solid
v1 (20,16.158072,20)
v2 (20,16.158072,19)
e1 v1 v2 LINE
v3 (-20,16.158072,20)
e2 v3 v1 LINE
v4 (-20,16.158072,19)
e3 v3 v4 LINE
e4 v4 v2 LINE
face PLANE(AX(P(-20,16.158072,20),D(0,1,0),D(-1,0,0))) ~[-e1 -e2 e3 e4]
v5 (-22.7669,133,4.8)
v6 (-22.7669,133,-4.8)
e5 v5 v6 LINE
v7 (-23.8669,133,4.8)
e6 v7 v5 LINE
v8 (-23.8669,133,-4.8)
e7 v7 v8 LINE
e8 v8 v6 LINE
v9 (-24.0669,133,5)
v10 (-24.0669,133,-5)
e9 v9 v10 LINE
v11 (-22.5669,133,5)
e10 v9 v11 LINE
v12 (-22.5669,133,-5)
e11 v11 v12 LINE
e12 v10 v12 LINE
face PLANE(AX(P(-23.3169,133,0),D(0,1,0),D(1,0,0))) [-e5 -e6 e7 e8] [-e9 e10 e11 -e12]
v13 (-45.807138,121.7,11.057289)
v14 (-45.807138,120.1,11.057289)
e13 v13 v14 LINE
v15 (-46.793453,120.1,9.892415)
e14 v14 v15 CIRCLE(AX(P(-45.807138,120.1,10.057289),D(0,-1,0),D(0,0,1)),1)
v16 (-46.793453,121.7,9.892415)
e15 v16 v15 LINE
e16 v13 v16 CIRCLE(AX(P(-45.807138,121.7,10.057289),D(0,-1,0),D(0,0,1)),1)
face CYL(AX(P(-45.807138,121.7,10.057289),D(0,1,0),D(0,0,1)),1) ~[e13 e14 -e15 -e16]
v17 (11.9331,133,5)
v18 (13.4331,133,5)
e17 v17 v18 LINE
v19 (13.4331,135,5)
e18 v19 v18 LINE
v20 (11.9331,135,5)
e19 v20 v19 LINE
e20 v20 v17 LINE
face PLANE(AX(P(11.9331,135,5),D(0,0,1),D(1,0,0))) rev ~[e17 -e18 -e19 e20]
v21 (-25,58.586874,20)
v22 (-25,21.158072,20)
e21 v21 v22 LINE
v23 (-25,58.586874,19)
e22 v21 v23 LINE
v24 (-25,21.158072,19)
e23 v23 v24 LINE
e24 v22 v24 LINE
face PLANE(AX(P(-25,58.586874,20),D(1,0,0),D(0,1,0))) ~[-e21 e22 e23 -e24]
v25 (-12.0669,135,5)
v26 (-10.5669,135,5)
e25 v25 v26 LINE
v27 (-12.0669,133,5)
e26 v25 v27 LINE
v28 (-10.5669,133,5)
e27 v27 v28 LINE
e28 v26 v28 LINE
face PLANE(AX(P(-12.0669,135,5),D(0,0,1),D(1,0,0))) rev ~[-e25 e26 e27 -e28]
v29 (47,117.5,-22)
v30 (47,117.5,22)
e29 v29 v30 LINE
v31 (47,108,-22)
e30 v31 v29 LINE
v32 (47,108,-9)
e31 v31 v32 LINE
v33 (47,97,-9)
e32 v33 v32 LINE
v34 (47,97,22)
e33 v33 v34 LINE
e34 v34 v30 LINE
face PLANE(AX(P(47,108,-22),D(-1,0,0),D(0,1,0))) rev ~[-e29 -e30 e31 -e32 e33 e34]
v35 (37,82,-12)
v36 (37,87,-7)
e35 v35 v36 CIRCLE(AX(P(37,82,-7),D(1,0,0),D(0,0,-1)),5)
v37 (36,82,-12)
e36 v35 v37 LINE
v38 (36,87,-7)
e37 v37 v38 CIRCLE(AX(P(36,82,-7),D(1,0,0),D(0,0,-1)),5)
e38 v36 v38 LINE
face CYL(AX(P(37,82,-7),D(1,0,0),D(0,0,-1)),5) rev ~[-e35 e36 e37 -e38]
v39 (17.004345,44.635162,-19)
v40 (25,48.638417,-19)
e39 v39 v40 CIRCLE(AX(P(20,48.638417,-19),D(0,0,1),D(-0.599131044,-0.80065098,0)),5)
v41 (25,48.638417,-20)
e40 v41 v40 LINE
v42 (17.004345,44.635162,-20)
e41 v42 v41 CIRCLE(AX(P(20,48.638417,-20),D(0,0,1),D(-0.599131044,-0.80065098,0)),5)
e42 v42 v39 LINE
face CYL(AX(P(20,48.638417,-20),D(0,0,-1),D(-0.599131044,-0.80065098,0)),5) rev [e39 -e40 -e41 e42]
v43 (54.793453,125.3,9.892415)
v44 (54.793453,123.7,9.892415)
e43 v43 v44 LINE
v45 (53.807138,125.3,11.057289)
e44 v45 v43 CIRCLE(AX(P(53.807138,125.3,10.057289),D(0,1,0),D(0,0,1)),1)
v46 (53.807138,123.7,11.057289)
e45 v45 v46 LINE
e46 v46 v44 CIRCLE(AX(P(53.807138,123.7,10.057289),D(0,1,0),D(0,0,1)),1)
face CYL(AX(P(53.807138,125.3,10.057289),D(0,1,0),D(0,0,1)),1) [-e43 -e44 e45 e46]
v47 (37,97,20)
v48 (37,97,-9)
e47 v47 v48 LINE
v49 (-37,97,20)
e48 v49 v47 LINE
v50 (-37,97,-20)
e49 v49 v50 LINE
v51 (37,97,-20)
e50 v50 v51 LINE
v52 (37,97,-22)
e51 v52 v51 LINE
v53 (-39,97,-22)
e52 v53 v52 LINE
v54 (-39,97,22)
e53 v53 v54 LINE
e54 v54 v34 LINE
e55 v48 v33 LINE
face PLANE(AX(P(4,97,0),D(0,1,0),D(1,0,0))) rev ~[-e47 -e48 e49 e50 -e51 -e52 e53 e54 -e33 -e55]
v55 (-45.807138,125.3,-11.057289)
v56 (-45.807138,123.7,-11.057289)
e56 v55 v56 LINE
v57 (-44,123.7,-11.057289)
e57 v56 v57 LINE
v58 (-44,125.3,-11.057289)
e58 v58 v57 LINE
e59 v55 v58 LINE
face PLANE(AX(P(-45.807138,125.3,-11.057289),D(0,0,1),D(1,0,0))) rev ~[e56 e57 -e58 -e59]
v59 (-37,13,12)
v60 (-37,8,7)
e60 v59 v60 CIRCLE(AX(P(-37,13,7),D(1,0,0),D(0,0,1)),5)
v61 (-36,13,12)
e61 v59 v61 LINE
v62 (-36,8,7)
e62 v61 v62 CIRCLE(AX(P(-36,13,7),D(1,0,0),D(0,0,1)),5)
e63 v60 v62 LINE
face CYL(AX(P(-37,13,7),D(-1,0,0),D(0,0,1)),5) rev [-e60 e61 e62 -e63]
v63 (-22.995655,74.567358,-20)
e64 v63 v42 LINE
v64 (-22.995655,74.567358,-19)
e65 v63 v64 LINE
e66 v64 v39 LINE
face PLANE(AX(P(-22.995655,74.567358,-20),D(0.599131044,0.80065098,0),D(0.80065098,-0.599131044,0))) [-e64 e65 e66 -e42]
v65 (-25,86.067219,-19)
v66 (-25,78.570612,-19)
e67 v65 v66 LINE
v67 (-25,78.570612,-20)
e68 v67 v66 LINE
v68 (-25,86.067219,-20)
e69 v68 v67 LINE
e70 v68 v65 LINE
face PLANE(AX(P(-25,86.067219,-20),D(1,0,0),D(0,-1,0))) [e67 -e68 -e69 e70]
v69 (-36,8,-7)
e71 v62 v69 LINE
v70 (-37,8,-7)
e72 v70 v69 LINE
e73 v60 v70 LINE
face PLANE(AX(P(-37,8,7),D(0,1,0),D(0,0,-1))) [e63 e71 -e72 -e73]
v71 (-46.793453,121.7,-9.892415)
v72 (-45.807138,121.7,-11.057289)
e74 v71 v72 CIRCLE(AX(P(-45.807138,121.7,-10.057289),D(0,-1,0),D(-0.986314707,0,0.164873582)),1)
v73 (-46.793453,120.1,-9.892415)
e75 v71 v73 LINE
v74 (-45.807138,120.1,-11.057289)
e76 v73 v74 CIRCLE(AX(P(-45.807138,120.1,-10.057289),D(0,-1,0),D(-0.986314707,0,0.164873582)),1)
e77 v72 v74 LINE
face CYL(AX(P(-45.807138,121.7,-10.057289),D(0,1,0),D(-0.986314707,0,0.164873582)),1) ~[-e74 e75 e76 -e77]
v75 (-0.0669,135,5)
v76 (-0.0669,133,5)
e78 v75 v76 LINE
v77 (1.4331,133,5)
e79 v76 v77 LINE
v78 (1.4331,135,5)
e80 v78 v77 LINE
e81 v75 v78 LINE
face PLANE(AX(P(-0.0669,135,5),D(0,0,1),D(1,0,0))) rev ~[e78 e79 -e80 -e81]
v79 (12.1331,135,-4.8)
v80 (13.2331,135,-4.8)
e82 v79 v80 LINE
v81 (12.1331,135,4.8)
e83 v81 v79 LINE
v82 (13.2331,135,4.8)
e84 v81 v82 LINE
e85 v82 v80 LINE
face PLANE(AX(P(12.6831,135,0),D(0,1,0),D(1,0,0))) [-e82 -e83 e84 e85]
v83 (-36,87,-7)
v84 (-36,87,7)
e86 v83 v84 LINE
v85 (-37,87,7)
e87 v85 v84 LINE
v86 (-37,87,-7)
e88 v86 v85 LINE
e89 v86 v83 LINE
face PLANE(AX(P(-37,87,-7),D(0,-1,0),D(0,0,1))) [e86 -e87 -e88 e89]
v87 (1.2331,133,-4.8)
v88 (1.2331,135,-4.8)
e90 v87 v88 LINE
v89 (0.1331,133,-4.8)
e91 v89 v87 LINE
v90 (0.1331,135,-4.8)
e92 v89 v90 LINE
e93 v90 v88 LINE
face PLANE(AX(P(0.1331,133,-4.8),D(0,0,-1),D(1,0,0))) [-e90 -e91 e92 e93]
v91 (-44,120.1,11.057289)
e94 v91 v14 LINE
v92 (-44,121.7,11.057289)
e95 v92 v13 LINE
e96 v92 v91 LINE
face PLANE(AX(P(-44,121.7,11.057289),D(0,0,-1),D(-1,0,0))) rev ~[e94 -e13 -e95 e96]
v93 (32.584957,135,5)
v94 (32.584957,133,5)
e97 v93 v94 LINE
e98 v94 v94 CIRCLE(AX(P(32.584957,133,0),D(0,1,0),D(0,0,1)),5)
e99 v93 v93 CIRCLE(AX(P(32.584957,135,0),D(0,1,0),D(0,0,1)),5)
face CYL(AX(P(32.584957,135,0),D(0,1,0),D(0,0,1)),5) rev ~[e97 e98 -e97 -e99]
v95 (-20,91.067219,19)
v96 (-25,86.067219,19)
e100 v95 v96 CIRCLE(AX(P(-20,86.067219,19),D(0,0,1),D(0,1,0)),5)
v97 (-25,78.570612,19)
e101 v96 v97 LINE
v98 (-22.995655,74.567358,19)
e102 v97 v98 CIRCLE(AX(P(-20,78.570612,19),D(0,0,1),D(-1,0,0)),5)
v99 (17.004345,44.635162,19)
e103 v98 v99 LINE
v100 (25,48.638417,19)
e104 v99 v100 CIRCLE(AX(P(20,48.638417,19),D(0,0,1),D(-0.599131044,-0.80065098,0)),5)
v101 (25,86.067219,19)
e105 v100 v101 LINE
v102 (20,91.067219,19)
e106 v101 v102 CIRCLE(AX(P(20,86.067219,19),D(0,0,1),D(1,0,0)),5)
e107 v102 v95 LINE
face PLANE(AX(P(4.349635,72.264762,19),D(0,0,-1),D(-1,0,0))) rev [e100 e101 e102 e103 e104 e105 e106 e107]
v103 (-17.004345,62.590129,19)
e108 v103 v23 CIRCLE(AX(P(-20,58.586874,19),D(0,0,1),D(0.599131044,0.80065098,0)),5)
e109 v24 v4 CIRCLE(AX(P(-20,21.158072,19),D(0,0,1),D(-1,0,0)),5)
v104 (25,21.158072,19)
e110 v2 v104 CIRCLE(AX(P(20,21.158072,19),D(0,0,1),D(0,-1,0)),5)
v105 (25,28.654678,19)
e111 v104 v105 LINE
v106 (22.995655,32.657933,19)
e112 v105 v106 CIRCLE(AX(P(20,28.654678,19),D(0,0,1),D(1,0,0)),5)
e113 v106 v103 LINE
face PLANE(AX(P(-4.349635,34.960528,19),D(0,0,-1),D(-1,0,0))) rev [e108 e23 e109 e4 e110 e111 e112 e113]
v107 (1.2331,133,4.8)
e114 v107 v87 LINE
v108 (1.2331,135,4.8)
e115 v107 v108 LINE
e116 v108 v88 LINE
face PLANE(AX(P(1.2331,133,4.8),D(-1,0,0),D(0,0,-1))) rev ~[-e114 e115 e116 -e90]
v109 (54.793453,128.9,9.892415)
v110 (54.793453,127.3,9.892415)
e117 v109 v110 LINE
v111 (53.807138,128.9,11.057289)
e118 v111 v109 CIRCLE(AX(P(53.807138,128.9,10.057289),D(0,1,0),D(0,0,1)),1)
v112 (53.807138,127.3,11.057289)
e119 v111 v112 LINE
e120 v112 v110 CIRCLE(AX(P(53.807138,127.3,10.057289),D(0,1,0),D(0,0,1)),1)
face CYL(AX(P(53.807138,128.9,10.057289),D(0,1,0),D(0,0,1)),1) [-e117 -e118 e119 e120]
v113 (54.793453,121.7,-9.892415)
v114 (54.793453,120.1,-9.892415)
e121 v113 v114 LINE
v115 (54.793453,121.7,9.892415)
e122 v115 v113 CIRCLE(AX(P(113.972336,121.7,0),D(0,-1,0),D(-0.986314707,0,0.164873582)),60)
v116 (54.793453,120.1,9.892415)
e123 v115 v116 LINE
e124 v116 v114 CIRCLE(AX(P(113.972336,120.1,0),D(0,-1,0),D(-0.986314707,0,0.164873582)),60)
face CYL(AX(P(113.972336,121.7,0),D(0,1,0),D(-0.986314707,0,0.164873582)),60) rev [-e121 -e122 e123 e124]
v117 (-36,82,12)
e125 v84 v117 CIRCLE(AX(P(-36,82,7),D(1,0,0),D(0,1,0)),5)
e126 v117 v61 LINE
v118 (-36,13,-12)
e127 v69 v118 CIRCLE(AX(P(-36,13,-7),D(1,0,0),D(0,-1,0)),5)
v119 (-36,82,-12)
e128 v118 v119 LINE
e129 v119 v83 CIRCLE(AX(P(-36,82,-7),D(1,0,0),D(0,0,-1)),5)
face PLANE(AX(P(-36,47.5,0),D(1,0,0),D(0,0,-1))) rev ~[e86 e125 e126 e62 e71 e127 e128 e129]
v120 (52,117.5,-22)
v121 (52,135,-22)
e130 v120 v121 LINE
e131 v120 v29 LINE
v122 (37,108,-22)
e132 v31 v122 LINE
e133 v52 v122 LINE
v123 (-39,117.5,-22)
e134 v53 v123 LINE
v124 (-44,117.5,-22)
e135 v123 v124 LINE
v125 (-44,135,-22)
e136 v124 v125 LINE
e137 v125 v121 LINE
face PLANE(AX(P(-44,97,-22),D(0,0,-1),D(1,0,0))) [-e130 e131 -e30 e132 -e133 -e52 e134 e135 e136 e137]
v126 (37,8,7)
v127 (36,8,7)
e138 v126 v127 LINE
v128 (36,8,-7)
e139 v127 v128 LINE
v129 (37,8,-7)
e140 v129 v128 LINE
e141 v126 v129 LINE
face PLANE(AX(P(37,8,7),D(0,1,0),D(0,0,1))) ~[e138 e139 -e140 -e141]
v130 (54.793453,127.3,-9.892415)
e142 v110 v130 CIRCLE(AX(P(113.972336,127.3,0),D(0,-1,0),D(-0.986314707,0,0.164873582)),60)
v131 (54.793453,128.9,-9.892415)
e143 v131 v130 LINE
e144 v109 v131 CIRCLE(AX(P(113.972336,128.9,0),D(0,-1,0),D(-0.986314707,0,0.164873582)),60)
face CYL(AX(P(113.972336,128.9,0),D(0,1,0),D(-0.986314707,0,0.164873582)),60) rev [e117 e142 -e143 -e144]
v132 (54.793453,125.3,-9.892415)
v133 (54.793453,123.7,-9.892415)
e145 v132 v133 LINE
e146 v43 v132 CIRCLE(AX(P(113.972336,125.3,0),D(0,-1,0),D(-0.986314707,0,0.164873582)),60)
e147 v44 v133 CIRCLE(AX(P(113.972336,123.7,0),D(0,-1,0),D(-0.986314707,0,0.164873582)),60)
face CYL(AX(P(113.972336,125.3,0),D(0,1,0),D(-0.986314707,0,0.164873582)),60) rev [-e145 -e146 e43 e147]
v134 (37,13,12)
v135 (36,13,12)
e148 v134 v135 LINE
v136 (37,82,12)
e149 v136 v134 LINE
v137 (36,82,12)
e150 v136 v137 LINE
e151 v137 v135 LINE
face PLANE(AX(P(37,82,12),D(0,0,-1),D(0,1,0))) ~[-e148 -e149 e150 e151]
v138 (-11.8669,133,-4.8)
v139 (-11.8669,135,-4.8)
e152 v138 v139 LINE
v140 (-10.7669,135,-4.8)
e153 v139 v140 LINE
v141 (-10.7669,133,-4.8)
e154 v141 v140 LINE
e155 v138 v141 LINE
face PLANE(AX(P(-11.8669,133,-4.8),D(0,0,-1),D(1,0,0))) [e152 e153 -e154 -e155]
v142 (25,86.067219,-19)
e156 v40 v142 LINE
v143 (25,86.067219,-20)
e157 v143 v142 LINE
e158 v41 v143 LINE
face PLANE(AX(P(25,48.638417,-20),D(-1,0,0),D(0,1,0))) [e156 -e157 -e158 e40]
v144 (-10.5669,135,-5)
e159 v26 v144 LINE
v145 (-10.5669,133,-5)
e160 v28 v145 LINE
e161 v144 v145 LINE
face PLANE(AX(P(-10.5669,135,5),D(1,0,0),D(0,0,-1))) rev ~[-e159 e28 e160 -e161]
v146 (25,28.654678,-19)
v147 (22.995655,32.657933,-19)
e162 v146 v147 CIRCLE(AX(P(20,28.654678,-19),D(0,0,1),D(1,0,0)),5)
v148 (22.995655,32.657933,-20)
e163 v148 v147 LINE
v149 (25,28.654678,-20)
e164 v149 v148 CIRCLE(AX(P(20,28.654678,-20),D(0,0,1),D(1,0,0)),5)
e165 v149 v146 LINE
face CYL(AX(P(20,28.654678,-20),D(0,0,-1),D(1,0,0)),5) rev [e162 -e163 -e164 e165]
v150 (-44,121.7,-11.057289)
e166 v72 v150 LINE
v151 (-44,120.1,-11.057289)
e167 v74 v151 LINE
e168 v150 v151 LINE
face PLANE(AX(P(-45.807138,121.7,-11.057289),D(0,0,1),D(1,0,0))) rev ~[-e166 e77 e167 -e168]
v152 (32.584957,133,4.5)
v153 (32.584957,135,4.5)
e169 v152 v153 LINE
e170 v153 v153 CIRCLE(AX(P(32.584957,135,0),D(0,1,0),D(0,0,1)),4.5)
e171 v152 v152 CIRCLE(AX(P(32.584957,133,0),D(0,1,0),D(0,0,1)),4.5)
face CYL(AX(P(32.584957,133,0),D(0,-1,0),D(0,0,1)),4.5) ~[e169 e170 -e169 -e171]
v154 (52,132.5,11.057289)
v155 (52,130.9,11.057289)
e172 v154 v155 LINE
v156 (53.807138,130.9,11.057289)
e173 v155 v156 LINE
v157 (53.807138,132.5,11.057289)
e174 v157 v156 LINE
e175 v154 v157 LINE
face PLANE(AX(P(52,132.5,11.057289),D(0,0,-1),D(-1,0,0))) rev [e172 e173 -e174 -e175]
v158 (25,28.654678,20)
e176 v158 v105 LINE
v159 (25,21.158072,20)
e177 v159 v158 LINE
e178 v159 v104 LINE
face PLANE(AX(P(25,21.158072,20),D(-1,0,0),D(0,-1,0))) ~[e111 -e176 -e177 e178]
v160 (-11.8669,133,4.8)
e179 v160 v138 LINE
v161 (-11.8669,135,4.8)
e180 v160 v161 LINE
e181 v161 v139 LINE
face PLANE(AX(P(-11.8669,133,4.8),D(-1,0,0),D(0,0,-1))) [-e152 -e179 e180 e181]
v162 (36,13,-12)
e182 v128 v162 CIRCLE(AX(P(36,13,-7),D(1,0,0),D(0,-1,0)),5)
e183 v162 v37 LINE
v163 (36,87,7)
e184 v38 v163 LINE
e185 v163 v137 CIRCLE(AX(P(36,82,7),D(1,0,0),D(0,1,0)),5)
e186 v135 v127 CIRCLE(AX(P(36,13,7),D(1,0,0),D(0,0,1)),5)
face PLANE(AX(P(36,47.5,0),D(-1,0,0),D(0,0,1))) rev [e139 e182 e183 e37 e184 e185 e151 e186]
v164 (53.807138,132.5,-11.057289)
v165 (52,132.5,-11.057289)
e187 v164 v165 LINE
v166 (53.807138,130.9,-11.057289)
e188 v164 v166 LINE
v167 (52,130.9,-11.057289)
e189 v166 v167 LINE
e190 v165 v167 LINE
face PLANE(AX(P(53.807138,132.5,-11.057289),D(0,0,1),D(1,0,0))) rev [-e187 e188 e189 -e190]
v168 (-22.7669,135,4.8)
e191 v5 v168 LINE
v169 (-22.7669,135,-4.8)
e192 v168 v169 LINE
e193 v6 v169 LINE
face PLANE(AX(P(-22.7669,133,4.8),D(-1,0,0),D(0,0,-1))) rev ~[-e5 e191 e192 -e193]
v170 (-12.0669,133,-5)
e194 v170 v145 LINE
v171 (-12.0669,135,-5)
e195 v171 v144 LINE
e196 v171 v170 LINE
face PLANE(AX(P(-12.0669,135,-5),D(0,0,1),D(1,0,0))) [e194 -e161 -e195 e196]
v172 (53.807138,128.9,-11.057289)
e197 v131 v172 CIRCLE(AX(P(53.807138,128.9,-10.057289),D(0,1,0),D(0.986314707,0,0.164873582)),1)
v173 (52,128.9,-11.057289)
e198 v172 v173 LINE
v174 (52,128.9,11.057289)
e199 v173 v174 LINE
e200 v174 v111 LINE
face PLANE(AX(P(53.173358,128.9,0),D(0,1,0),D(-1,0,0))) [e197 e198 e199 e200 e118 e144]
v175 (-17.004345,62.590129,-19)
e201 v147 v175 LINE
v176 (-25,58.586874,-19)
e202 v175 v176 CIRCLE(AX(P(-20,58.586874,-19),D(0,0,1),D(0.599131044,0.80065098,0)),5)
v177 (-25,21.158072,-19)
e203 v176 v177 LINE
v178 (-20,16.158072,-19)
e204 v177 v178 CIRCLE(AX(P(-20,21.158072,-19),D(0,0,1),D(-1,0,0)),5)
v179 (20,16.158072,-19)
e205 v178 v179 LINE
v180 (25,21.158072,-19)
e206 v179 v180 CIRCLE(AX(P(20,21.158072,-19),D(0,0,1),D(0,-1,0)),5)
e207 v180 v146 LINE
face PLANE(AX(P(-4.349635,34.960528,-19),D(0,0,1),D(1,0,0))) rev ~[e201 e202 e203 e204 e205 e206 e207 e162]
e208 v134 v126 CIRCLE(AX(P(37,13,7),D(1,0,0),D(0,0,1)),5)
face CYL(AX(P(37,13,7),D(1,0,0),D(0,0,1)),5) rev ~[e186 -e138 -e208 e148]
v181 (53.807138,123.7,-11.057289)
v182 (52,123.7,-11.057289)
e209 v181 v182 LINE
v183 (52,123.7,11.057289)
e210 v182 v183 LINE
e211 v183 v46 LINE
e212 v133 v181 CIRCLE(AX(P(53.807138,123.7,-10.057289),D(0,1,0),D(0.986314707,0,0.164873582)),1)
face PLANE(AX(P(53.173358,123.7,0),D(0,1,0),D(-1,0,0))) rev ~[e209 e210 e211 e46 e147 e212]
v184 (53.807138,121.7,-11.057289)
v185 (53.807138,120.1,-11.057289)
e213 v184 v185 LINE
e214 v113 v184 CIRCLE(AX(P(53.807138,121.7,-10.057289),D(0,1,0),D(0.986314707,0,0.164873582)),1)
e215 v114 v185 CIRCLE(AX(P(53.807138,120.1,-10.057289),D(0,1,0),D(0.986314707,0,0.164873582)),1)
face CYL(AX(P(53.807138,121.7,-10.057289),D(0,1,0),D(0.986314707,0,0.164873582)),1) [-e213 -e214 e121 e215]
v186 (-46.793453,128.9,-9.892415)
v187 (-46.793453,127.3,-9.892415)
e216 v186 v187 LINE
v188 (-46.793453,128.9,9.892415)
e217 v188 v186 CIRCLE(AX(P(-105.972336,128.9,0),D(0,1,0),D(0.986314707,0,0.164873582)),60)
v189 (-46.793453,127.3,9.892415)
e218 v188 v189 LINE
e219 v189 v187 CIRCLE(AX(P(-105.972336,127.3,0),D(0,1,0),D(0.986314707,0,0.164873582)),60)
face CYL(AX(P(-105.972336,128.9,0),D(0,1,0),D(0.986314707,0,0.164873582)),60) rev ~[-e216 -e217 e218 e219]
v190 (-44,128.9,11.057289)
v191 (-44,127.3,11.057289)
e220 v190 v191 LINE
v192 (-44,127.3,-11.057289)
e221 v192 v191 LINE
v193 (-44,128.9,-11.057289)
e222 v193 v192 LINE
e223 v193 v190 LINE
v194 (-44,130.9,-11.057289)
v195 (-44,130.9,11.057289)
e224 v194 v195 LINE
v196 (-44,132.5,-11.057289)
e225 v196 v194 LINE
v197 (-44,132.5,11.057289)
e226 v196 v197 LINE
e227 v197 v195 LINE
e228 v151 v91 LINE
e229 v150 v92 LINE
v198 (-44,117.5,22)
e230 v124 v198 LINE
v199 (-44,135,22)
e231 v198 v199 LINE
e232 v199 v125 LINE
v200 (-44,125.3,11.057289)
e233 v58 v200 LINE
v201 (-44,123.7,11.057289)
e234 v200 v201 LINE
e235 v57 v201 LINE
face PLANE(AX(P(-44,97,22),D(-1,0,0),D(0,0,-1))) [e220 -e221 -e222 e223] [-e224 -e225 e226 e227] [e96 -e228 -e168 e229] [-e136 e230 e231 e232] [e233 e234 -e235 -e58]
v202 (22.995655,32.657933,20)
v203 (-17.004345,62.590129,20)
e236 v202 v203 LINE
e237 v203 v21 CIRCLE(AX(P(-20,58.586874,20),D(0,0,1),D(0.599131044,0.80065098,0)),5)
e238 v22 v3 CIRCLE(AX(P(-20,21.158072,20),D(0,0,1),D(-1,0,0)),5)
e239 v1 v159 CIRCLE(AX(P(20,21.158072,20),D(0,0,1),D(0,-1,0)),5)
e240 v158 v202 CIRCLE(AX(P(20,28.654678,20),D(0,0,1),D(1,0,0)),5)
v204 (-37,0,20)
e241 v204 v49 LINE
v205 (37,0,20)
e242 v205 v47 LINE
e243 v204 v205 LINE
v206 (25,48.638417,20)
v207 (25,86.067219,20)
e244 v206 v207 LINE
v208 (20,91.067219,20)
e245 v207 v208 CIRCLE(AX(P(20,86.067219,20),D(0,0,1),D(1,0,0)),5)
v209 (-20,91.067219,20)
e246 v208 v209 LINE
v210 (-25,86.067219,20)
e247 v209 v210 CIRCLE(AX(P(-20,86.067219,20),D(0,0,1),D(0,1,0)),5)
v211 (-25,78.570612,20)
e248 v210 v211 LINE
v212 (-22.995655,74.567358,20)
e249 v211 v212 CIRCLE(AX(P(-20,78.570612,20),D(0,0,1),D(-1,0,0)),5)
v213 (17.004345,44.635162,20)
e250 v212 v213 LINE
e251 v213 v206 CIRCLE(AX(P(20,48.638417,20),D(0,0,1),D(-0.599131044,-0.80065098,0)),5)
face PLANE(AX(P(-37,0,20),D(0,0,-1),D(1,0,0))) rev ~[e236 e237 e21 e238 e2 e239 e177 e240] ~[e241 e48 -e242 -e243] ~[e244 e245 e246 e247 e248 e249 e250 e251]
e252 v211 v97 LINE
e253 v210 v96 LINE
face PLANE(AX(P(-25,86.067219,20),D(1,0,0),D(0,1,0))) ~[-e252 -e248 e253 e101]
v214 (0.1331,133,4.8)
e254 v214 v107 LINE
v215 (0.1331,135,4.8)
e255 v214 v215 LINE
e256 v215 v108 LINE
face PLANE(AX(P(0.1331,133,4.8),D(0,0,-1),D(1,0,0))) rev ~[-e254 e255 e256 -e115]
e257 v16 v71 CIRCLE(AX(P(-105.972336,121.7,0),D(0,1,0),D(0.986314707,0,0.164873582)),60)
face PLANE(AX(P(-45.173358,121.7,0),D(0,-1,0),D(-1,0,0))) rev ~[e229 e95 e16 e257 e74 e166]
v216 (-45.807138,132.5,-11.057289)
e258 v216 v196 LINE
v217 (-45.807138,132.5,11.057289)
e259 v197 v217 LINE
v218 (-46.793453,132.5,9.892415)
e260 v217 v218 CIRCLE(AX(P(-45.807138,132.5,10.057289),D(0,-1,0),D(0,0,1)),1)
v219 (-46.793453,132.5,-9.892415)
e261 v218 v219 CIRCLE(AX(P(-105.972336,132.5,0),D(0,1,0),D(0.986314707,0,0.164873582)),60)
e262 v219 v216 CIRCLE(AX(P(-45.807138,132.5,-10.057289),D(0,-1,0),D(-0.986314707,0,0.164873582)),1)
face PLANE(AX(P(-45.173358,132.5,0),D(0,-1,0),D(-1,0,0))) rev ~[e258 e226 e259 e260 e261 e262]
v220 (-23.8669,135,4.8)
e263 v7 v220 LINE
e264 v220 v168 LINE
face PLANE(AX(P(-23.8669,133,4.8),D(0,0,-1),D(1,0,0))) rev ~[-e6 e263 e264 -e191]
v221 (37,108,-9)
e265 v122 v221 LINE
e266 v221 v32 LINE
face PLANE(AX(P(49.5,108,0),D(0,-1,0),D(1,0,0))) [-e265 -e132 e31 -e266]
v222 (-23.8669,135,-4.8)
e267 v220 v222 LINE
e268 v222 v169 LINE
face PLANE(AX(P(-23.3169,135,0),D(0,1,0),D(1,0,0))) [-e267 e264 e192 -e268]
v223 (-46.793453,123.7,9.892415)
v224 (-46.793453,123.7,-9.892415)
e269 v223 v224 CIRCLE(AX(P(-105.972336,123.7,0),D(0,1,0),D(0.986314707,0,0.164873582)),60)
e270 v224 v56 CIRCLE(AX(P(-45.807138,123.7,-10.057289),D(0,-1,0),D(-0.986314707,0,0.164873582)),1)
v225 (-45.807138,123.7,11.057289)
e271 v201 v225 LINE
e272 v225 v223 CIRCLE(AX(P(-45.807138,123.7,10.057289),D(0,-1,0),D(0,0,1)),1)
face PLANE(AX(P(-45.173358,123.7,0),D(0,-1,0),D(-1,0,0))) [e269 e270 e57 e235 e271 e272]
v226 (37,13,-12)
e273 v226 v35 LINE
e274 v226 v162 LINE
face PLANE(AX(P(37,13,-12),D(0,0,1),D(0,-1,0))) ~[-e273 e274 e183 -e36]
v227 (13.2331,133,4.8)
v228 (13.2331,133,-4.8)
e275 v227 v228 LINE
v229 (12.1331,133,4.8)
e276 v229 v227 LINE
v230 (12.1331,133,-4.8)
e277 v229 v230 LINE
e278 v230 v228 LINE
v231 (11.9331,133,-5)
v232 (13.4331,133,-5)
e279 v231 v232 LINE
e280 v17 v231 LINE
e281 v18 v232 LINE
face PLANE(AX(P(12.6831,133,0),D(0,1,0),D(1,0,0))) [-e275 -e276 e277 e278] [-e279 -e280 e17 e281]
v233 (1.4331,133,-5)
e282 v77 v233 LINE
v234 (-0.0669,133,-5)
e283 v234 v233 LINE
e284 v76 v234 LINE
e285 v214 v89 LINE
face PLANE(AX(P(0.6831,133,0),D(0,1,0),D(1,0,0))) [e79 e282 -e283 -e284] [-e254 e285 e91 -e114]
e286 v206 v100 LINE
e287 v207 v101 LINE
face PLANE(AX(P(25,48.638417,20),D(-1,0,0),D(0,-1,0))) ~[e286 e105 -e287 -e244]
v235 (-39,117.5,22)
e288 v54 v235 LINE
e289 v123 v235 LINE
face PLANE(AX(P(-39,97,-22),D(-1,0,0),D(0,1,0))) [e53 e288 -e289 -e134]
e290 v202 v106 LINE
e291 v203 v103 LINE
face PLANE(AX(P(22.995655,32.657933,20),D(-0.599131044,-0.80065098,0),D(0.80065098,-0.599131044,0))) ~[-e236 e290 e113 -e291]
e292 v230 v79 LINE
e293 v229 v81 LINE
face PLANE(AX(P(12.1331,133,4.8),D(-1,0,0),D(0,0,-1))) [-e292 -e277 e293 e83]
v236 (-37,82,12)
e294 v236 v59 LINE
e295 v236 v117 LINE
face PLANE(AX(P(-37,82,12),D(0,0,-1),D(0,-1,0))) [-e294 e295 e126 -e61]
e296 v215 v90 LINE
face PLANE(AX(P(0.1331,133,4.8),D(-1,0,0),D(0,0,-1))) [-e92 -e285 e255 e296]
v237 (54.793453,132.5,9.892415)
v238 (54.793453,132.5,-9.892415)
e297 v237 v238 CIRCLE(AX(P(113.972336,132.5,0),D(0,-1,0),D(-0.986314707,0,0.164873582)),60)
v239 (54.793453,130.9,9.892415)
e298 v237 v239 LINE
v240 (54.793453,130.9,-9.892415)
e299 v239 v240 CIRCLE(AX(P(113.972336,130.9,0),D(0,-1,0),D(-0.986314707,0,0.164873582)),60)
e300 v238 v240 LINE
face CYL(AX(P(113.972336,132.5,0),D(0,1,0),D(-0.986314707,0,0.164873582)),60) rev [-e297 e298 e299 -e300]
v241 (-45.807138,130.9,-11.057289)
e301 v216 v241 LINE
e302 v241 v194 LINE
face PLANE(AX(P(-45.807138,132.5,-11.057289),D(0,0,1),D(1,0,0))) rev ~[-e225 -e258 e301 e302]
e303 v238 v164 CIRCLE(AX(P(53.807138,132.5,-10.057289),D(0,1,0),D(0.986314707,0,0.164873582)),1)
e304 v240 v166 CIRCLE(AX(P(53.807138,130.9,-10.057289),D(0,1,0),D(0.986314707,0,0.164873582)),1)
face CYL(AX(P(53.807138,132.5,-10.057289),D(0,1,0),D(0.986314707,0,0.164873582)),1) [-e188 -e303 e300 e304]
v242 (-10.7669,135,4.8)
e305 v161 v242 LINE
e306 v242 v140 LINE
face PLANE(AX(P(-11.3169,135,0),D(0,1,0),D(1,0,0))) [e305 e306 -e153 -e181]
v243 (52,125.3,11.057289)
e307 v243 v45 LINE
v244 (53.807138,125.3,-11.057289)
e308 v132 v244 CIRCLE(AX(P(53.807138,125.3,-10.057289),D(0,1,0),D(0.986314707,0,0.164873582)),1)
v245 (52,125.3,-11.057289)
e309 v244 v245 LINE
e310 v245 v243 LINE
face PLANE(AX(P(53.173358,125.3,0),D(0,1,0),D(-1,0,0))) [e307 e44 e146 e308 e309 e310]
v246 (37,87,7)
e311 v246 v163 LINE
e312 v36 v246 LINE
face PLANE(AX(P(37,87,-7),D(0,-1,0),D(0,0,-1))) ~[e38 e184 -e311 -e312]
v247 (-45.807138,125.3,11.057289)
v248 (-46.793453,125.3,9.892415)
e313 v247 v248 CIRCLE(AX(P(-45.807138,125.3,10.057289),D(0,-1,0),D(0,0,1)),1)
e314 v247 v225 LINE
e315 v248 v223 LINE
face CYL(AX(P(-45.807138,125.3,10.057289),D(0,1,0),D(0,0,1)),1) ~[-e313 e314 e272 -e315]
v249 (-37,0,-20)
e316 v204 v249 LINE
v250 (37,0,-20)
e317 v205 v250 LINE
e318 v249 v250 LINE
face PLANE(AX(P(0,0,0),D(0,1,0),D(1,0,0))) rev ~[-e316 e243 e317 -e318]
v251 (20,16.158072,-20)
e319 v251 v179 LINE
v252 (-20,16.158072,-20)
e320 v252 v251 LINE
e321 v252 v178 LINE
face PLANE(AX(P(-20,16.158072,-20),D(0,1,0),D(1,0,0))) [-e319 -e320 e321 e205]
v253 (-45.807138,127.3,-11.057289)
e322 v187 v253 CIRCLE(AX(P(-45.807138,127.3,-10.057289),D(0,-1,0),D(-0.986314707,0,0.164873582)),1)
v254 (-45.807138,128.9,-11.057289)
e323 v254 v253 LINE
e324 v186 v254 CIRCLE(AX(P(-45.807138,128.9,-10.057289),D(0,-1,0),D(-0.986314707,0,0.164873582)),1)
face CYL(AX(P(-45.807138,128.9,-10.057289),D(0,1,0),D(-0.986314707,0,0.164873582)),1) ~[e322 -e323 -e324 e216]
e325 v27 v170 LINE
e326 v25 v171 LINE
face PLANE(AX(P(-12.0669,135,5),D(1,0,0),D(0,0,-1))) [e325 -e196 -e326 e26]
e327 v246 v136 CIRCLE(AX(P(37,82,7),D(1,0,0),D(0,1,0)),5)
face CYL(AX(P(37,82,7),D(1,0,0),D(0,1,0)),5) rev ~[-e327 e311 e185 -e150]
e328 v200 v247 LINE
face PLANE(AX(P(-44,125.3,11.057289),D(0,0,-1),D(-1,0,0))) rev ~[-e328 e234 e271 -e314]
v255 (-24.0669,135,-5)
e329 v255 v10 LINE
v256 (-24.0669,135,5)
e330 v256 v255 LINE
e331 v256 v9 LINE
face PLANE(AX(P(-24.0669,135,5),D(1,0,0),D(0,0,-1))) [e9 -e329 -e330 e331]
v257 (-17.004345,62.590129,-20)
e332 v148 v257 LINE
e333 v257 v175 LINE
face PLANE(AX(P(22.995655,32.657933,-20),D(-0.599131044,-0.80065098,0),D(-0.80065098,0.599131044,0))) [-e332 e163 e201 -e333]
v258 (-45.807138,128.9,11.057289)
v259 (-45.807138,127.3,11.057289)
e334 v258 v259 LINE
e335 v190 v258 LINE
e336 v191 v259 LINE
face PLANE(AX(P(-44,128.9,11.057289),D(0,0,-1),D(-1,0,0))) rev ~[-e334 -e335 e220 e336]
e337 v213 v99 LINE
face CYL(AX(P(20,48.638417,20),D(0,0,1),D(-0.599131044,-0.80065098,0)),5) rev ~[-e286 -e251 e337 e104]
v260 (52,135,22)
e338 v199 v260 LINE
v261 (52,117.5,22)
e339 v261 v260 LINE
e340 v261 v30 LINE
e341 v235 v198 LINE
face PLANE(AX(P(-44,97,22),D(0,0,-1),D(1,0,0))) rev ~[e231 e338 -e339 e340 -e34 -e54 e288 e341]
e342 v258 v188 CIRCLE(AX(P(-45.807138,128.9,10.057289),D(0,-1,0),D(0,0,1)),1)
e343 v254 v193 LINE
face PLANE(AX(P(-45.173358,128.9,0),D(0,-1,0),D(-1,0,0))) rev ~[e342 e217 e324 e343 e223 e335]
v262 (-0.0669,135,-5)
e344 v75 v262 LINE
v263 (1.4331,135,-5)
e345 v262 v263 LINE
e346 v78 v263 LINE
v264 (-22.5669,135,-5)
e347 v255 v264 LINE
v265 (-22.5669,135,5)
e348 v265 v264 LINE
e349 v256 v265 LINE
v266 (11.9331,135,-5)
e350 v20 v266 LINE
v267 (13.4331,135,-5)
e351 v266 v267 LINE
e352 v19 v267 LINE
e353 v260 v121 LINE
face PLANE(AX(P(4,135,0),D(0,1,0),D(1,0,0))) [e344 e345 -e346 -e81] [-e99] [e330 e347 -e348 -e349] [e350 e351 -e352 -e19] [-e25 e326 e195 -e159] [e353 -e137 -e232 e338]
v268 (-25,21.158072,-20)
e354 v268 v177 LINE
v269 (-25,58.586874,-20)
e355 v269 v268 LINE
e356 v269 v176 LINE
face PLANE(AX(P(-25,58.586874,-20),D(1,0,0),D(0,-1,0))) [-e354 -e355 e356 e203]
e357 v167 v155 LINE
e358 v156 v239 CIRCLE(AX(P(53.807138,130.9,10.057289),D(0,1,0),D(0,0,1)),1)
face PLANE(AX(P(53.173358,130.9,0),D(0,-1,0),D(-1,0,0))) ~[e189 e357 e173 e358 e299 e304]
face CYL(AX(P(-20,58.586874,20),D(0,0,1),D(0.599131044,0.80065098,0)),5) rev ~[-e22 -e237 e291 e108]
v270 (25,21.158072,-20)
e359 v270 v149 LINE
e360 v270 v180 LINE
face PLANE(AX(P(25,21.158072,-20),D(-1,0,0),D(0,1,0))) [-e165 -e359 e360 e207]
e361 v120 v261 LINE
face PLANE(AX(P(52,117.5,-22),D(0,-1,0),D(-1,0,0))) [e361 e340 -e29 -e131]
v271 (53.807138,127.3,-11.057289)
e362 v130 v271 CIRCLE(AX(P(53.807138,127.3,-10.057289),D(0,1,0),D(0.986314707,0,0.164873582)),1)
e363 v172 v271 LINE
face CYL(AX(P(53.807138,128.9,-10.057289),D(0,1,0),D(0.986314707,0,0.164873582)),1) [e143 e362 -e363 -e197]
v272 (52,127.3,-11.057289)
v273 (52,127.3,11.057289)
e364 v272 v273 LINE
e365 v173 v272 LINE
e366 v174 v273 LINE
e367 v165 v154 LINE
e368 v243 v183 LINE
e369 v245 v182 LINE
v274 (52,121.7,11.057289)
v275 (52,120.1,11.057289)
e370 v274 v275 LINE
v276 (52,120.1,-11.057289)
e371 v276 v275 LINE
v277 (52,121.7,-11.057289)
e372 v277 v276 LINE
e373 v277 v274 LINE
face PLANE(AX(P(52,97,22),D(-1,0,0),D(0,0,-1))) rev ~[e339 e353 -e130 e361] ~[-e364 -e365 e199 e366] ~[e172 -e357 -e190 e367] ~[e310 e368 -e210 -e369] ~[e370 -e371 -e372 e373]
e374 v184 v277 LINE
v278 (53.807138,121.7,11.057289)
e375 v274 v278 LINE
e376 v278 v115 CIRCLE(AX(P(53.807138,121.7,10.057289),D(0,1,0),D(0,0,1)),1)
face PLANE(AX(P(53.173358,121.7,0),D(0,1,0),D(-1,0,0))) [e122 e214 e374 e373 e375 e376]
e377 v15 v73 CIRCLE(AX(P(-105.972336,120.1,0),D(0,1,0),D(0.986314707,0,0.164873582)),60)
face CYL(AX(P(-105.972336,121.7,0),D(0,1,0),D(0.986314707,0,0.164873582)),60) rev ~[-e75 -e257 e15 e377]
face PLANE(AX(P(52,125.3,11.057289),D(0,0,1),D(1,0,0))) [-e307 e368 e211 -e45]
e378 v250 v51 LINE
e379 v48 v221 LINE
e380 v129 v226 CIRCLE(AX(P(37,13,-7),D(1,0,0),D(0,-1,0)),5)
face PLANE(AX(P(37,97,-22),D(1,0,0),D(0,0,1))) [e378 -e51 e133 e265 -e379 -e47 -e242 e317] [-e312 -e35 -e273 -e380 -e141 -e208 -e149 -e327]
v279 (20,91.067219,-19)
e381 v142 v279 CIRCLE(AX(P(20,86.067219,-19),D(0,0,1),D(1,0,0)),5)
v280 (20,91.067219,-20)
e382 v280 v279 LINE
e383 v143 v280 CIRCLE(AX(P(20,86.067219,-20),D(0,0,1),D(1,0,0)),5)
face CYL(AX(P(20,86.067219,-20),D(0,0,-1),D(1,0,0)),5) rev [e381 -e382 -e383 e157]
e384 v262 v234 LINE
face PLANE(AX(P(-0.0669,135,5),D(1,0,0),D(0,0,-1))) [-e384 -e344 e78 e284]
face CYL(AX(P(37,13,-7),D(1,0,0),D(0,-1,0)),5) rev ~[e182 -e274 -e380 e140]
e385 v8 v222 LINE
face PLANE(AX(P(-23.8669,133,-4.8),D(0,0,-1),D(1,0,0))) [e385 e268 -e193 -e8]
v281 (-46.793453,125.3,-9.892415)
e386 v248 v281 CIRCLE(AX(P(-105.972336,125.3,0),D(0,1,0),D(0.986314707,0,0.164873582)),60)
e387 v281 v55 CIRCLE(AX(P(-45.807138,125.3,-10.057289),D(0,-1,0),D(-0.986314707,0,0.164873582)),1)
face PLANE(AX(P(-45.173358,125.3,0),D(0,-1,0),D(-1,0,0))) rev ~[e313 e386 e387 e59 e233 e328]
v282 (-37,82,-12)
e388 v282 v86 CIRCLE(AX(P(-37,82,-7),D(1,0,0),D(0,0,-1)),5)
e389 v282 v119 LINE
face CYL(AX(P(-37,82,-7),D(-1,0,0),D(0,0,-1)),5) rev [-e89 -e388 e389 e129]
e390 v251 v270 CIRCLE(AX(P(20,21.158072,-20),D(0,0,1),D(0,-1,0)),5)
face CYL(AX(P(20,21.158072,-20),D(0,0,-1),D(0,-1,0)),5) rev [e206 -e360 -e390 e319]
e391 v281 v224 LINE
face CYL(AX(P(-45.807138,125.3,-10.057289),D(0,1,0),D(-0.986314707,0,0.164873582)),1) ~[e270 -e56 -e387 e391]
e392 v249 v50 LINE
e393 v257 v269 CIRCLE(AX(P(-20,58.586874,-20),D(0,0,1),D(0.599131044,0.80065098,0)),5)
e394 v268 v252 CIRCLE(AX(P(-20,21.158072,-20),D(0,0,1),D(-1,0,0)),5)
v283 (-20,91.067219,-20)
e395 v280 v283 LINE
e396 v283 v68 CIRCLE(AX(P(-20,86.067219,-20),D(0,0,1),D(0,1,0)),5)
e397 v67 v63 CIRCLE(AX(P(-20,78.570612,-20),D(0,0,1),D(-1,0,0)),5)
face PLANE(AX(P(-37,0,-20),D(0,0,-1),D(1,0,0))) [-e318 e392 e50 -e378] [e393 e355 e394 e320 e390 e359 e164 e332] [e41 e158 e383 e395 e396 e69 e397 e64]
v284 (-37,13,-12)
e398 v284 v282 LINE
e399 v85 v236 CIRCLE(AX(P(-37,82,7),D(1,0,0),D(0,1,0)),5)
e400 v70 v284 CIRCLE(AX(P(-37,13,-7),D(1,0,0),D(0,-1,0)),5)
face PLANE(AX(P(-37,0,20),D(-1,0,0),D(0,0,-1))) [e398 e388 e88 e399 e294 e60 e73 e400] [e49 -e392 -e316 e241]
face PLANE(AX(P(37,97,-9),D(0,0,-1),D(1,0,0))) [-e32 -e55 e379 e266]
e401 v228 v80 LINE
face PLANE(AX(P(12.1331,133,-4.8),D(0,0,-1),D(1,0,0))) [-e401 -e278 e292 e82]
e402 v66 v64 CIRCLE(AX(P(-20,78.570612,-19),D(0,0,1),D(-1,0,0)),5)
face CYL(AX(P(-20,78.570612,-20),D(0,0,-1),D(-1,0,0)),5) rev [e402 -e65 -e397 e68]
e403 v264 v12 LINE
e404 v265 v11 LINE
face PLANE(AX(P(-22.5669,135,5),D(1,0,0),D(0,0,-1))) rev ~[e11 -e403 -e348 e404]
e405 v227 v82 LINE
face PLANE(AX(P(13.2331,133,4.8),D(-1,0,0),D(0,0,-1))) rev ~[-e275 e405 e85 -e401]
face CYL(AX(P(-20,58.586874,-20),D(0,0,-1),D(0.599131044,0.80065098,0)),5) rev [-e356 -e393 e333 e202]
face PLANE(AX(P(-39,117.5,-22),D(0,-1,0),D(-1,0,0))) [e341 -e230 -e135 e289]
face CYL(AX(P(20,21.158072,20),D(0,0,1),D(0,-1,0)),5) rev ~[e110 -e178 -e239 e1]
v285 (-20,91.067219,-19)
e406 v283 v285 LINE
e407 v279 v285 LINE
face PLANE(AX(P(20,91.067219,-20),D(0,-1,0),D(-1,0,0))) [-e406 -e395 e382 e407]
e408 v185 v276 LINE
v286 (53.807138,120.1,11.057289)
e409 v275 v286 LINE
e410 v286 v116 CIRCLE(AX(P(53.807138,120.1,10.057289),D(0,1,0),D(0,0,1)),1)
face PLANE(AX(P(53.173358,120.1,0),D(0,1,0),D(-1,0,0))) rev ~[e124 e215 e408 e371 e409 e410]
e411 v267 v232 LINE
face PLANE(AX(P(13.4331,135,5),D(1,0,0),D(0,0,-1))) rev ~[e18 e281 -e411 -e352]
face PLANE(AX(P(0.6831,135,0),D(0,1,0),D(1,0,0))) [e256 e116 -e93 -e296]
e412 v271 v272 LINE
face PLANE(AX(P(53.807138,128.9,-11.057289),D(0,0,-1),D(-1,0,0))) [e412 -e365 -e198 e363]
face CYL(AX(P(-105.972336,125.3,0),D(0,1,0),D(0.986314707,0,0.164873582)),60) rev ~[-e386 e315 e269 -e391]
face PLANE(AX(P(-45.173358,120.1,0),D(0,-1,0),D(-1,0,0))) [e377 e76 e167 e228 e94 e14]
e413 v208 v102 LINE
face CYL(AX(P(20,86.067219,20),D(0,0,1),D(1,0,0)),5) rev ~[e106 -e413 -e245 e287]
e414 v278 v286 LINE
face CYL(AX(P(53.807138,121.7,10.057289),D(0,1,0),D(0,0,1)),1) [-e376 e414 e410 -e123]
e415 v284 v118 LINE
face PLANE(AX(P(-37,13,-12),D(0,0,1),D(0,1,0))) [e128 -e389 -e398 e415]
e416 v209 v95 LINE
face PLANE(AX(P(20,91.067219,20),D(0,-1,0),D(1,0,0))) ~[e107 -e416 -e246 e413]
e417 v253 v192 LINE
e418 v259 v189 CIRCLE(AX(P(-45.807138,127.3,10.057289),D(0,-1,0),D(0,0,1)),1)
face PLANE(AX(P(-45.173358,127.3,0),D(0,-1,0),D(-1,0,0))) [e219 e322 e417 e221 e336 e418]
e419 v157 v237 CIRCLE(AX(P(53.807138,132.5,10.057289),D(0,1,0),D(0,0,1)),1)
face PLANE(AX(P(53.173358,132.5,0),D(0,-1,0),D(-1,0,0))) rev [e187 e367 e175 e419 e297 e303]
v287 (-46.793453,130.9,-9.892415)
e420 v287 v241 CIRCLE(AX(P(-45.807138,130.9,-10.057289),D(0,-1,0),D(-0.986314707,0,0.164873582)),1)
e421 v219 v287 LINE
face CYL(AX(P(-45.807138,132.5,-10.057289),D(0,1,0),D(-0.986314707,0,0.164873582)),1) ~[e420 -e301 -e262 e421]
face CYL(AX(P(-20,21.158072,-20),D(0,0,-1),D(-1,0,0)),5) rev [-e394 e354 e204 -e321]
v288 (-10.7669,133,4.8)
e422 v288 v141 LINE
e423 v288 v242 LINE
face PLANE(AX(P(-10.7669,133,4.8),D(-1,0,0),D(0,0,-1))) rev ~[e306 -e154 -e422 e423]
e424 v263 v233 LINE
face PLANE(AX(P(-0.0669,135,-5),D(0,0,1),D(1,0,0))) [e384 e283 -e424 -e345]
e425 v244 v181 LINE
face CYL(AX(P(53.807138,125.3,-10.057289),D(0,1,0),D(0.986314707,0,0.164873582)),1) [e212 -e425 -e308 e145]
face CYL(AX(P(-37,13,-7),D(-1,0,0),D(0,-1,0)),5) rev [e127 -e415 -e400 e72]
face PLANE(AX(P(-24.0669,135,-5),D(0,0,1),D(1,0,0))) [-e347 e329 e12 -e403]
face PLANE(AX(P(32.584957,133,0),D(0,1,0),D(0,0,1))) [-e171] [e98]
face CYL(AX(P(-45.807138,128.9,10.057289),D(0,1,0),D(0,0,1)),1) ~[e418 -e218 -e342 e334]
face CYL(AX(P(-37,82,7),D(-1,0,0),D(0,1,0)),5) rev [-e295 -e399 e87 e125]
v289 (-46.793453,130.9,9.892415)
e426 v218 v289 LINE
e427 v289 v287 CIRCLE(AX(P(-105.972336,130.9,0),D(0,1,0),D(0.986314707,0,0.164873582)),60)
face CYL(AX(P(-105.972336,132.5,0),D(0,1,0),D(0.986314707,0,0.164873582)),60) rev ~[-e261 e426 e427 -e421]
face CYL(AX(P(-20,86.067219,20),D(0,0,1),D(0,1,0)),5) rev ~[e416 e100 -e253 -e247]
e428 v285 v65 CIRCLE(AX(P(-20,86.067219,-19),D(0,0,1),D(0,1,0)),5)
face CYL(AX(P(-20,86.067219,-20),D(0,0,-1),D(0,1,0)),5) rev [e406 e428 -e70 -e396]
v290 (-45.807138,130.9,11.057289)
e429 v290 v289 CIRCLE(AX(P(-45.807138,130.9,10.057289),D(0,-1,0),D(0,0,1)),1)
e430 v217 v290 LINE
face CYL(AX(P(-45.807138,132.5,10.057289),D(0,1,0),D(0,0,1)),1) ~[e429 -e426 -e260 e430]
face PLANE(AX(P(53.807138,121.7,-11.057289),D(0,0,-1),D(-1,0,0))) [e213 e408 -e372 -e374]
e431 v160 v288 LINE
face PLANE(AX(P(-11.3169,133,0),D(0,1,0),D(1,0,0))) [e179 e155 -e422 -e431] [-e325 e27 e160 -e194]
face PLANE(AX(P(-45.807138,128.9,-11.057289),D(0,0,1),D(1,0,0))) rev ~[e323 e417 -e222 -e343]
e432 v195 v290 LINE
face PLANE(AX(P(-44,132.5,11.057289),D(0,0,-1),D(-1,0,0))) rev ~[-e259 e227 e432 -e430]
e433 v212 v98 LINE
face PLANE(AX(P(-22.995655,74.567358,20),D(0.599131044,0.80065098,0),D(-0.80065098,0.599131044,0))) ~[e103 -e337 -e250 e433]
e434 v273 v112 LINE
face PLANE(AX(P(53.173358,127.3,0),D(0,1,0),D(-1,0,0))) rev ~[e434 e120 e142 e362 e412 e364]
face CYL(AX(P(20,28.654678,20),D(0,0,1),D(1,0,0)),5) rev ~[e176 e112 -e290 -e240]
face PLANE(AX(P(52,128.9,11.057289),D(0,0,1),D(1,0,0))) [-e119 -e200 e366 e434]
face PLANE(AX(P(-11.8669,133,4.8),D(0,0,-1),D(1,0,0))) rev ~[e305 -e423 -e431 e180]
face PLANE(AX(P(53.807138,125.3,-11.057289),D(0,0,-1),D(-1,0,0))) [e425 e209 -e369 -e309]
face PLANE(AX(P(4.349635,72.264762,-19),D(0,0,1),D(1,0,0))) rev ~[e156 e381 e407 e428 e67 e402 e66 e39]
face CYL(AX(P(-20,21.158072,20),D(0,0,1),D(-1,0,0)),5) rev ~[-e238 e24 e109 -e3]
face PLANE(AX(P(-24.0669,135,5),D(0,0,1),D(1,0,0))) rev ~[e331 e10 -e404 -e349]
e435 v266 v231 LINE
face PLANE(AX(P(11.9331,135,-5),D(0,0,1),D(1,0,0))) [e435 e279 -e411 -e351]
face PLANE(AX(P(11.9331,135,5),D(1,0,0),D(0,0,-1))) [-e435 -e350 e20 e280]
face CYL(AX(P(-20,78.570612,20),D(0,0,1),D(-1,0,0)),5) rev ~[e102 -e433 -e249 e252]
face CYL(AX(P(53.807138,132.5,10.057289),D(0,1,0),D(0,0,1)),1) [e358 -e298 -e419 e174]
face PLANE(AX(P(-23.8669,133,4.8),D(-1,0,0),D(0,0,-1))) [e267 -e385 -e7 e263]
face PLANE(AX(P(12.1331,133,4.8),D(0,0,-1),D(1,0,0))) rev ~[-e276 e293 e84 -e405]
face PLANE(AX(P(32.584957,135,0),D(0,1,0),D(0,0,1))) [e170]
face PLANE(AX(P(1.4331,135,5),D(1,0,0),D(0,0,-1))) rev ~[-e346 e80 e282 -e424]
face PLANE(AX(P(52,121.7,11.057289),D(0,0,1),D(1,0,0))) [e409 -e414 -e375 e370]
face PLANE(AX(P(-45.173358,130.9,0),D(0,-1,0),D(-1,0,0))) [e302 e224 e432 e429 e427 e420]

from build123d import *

# Parameters (mm, degrees)
SKETCH_1_W             = 74
SKETCH_1_H             = 40
EXTRUDE_1_DEPTH        = 97
SKETCH_2_W             = 96
SKETCH_2_H             = 44
EXTRUDE_2_DEPTH        = 38
SKETCH_3_W             = 10
SKETCH_3_H             = 13
CUT_EXTRUDE_1_DEPTH    = 11
SKETCH_4_W             = 5
SKETCH_4_H             = 44
CUT_EXTRUDE_2_DEPTH    = 11
SKETCH_5_R             = 5
SKETCH_5_W             = 1.5
SKETCH_5_H             = 10
CUT_EXTRUDE_3_DEPTH    = 2
SKETCH_6_R             = 4.5
SKETCH_6_W             = 1.1
SKETCH_6_H             = 9.6
EXTRUDE_3_DEPTH        = 2
EXTRUDE_4_DEPTH        = 1.6
PATTERN_LINEAR_1_COUNT = 4
PATTERN_LINEAR_1_PITCH = 3.6
MIRROR_2_COPY_1_DEPTH  = 1.6
MIRROR_2_COPY_2_DEPTH  = 1.6
MIRROR_2_COPY_3_DEPTH  = 1.6
CUT_EXTRUDE_4_DEPTH    = 1
CUT_EXTRUDE_5_DEPTH    = 1
SKETCH_10_W            = 5
SKETCH_10_H            = 20.5
SKETCH_10_H_2          = 9.5
CUT_EXTRUDE_6_DEPTH    = 153.199942279


with BuildPart() as part:
    # 草图1 → 凸台-拉伸1 (new body)
    with BuildSketch(Plane(origin=(0, 0, 0), x_dir=(1, 0, 0), z_dir=(0, 1, 0))):
        Rectangle(SKETCH_1_W, SKETCH_1_H)
    extrude(amount=EXTRUDE_1_DEPTH)

    # 草图2 → 凸台-拉伸2 (add)
    with BuildSketch(Plane(origin=(0, 97, 0), x_dir=(1, 0, 0), z_dir=(0, 1, 0))):
        with Locations((4, 0)):
            Rectangle(SKETCH_2_W, SKETCH_2_H)
    extrude(amount=EXTRUDE_2_DEPTH)

    # 草图3 → 切除-拉伸1 (cut)
    with BuildSketch(Plane.XZ.offset(-97)):
        with Locations((42, -15.5)):
            Rectangle(SKETCH_3_W, SKETCH_3_H)
    extrude(amount=-CUT_EXTRUDE_1_DEPTH, mode=Mode.SUBTRACT)

    # 草图4 → 切除-拉伸2 (cut)
    with BuildSketch(Plane.XZ.offset(-97)):
        with Locations((49.5, 0)):
            Rectangle(SKETCH_4_W, SKETCH_4_H)
    extrude(amount=-CUT_EXTRUDE_2_DEPTH, mode=Mode.SUBTRACT)

    # 草图5 → 切除-拉伸3 (cut)
    with BuildSketch(Plane(origin=(0, 135, 0), x_dir=(1, 0, 0), z_dir=(0, 1, 0))):
        with Locations(Location((32.584956569, 0, 0), (0, 0, 270))):
            Circle(SKETCH_5_R)
        with Locations((12.683099686, 0)):
            Rectangle(SKETCH_5_W, SKETCH_5_H)
        with Locations((0.683099686, 0)):
            Rectangle(SKETCH_5_W, SKETCH_5_H)
        with Locations((-11.316900314, 0)):
            Rectangle(SKETCH_5_W, SKETCH_5_H)
        with Locations((-23.316900314, 0)):
            Rectangle(SKETCH_5_W, SKETCH_5_H)
    extrude(amount=-CUT_EXTRUDE_3_DEPTH, mode=Mode.SUBTRACT)

    # 草图6 → 凸台-拉伸3 (add)
    with BuildSketch(Plane(origin=(0, 133, 0), x_dir=(1, 0, 0), z_dir=(0, 1, 0))):
        with Locations(Location((32.584956569, 0, 0), (0, 0, 270))):
            Circle(SKETCH_6_R)
        with Locations((-23.316900314, 0)):
            Rectangle(SKETCH_6_W, SKETCH_6_H)
        with Locations((-11.316900314, 0)):
            Rectangle(SKETCH_6_W, SKETCH_6_H)
        with Locations((0.683099686, 0)):
            Rectangle(SKETCH_6_W, SKETCH_6_H)
        with Locations((12.683099686, 0)):
            Rectangle(SKETCH_6_W, SKETCH_6_H)
    extrude(amount=EXTRUDE_3_DEPTH)

    # 草图7 → 凸台-拉伸4 (add)
    with BuildSketch(Plane(origin=(0, 132.5, 0), x_dir=(1, 0, 0), z_dir=(0, 1, 0))):
        with BuildLine():
            Line((-44, -11.057288531), (-45.807138492, -11.057288531))
            ThreePointArc((-45.807138492, -11.057288531), (-46.570313957, -10.703479841), (-46.793453199, -9.892414949))
            ThreePointArc((-46.793453199, -9.892414949), (-45.972335636, 0), (-46.793453199, 9.892414949))
            ThreePointArc((-46.793453199, 9.892414949), (-46.570313957, 10.703479841), (-45.807138492, 11.057288531))
            Line((-45.807138492, 11.057288531), (-44, 11.057288531))
            Line((-44, 11.057288531), (-44, -11.057288531))
        make_face()
    extrude_4 = extrude(amount=-EXTRUDE_4_DEPTH)

    # 阵列(线性)1: 凸台-拉伸4 ×4
    with Locations(*[(0, -i * PATTERN_LINEAR_1_PITCH, 0) for i in range(1, PATTERN_LINEAR_1_COUNT)]):
        add(extrude_4)

    # 镜向2: 凸台-拉伸4 across plane
    add(extrude_4.mirror(Plane.ZY.offset(-4)))

    # 镜向2 copy 1 sketch → 镜向2 copy 1 (add)
    with BuildSketch(Plane(origin=(8, 128.9, 0), x_dir=(-1, 0, 0), z_dir=(0, 1, 0))):
        with BuildLine():
            Line((-44, 11.057288531), (-45.807138492, 11.057288531))
            ThreePointArc((-45.807138492, 11.057288531), (-46.570313957, 10.703479841), (-46.793453199, 9.892414949))
            ThreePointArc((-46.793453199, 9.892414949), (-45.972335636, 0), (-46.793453199, -9.892414949))
            ThreePointArc((-46.793453199, -9.892414949), (-46.570313957, -10.703479841), (-45.807138492, -11.057288531))
            Line((-45.807138492, -11.057288531), (-44, -11.057288531))
            Line((-44, -11.057288531), (-44, 11.057288531))
        make_face()
    extrude(amount=-MIRROR_2_COPY_1_DEPTH)

    # 镜向2 copy 2 sketch → 镜向2 copy 2 (add)
    with BuildSketch(Plane(origin=(8, 125.3, 0), x_dir=(-1, 0, 0), z_dir=(0, 1, 0))):
        with BuildLine():
            Line((-44, 11.057288531), (-45.807138492, 11.057288531))
            ThreePointArc((-45.807138492, 11.057288531), (-46.570313957, 10.703479841), (-46.793453199, 9.892414949))
            ThreePointArc((-46.793453199, 9.892414949), (-45.972335636, 0), (-46.793453199, -9.892414949))
            ThreePointArc((-46.793453199, -9.892414949), (-46.570313957, -10.703479841), (-45.807138492, -11.057288531))
            Line((-45.807138492, -11.057288531), (-44, -11.057288531))
            Line((-44, -11.057288531), (-44, 11.057288531))
        make_face()
    extrude(amount=-MIRROR_2_COPY_2_DEPTH)

    # 镜向2 copy 3 sketch → 镜向2 copy 3 (add)
    with BuildSketch(Plane(origin=(8, 121.7, 0), x_dir=(-1, 0, 0), z_dir=(0, 1, 0))):
        with BuildLine():
            Line((-44, 11.057288531), (-45.807138492, 11.057288531))
            ThreePointArc((-45.807138492, 11.057288531), (-46.570313957, 10.703479841), (-46.793453199, 9.892414949))
            ThreePointArc((-46.793453199, 9.892414949), (-45.972335636, 0), (-46.793453199, -9.892414949))
            ThreePointArc((-46.793453199, -9.892414949), (-46.570313957, -10.703479841), (-45.807138492, -11.057288531))
            Line((-45.807138492, -11.057288531), (-44, -11.057288531))
            Line((-44, -11.057288531), (-44, 11.057288531))
        make_face()
    extrude(amount=-MIRROR_2_COPY_3_DEPTH)

    # 草图8 → 切除-拉伸4 (cut)
    with BuildSketch(Plane.ZY.offset(37)):
        with BuildLine():
            Line((-7, 87), (7, 87))
            ThreePointArc((7, 87), (10.535533906, 85.535533906), (12, 82))
            Line((12, 82), (12, 13))
            ThreePointArc((12, 13), (10.535533906, 9.464466094), (7, 8))
            Line((7, 8), (-7, 8))
            ThreePointArc((-7, 8), (-10.535533906, 9.464466094), (-12, 13))
            Line((-12, 13), (-12, 82))
            ThreePointArc((-12, 82), (-10.535533906, 85.535533906), (-7, 87))
        make_face()
    cut_extrude_4 = extrude(amount=-CUT_EXTRUDE_4_DEPTH, mode=Mode.SUBTRACT)

    # 镜向3: 切除-拉伸4 across plane
    add(cut_extrude_4.mirror(Plane(origin=(0, 0, 0), x_dir=(0, 0, 1), z_dir=(1, 0, 0))), mode=Mode.SUBTRACT)

    # 草图9 → 切除-拉伸5 (cut)
    with BuildSketch(Plane(origin=(0, 0, -20), x_dir=(-1, 0, 0), z_dir=(0, 0, -1))):
        with BuildLine():
            Line((-20, 91.06721858), (20, 91.06721858))
            ThreePointArc((20, 91.06721858), (23.535533906, 89.602752486), (25, 86.06721858))
            Line((25, 86.06721858), (25, 78.57061248))
            ThreePointArc((25, 78.57061248), (24.470921387, 76.332117014), (22.995655219, 74.567357579))
            Line((22.995655219, 74.567357579), (-17.004344781, 44.635161975))
            ThreePointArc((-17.004344781, 44.635161975), (-22.238495466, 44.167495489), (-25, 48.638416876))
            Line((-25, 48.638416876), (-25, 86.06721858))
            ThreePointArc((-25, 86.06721858), (-23.535533906, 89.602752486), (-20, 91.06721858))
        make_face()
        with BuildLine():
            Line((-22.995655219, 32.657933054), (17.004344781, 62.590128658))
            ThreePointArc((17.004344781, 62.590128658), (22.238495466, 63.057795143), (25, 58.586873756))
            Line((25, 58.586873756), (25, 21.158072053))
            ThreePointArc((25, 21.158072053), (23.535533906, 17.622538147), (20, 16.158072053))
            Line((20, 16.158072053), (-20, 16.158072053))
            ThreePointArc((-20, 16.158072053), (-23.535533906, 17.622538147), (-25, 21.158072053))
            Line((-25, 21.158072053), (-25, 28.654678152))
            ThreePointArc((-25, 28.654678152), (-24.470921387, 30.893173618), (-22.995655219, 32.657933054))
        make_face()
    cut_extrude_5 = extrude(amount=-CUT_EXTRUDE_5_DEPTH, mode=Mode.SUBTRACT)

    # 镜向4: 切除-拉伸5 across plane
    add(cut_extrude_5.mirror(Plane.XY), mode=Mode.SUBTRACT)

    # 草图10 → 切除-拉伸6 (cut, through all)
    with BuildSketch(Plane(origin=(0, 0, -22), x_dir=(-1, 0, 0), z_dir=(0, 0, -1))):
        with Locations((41.5, 107.25)):
            Rectangle(SKETCH_10_W, SKETCH_10_H)
        with Locations((-49.5, 112.75)):
            Rectangle(SKETCH_10_W, SKETCH_10_H_2)
    extrude(amount=-CUT_EXTRUDE_6_DEPTH, mode=Mode.SUBTRACT)


solid = part.part
